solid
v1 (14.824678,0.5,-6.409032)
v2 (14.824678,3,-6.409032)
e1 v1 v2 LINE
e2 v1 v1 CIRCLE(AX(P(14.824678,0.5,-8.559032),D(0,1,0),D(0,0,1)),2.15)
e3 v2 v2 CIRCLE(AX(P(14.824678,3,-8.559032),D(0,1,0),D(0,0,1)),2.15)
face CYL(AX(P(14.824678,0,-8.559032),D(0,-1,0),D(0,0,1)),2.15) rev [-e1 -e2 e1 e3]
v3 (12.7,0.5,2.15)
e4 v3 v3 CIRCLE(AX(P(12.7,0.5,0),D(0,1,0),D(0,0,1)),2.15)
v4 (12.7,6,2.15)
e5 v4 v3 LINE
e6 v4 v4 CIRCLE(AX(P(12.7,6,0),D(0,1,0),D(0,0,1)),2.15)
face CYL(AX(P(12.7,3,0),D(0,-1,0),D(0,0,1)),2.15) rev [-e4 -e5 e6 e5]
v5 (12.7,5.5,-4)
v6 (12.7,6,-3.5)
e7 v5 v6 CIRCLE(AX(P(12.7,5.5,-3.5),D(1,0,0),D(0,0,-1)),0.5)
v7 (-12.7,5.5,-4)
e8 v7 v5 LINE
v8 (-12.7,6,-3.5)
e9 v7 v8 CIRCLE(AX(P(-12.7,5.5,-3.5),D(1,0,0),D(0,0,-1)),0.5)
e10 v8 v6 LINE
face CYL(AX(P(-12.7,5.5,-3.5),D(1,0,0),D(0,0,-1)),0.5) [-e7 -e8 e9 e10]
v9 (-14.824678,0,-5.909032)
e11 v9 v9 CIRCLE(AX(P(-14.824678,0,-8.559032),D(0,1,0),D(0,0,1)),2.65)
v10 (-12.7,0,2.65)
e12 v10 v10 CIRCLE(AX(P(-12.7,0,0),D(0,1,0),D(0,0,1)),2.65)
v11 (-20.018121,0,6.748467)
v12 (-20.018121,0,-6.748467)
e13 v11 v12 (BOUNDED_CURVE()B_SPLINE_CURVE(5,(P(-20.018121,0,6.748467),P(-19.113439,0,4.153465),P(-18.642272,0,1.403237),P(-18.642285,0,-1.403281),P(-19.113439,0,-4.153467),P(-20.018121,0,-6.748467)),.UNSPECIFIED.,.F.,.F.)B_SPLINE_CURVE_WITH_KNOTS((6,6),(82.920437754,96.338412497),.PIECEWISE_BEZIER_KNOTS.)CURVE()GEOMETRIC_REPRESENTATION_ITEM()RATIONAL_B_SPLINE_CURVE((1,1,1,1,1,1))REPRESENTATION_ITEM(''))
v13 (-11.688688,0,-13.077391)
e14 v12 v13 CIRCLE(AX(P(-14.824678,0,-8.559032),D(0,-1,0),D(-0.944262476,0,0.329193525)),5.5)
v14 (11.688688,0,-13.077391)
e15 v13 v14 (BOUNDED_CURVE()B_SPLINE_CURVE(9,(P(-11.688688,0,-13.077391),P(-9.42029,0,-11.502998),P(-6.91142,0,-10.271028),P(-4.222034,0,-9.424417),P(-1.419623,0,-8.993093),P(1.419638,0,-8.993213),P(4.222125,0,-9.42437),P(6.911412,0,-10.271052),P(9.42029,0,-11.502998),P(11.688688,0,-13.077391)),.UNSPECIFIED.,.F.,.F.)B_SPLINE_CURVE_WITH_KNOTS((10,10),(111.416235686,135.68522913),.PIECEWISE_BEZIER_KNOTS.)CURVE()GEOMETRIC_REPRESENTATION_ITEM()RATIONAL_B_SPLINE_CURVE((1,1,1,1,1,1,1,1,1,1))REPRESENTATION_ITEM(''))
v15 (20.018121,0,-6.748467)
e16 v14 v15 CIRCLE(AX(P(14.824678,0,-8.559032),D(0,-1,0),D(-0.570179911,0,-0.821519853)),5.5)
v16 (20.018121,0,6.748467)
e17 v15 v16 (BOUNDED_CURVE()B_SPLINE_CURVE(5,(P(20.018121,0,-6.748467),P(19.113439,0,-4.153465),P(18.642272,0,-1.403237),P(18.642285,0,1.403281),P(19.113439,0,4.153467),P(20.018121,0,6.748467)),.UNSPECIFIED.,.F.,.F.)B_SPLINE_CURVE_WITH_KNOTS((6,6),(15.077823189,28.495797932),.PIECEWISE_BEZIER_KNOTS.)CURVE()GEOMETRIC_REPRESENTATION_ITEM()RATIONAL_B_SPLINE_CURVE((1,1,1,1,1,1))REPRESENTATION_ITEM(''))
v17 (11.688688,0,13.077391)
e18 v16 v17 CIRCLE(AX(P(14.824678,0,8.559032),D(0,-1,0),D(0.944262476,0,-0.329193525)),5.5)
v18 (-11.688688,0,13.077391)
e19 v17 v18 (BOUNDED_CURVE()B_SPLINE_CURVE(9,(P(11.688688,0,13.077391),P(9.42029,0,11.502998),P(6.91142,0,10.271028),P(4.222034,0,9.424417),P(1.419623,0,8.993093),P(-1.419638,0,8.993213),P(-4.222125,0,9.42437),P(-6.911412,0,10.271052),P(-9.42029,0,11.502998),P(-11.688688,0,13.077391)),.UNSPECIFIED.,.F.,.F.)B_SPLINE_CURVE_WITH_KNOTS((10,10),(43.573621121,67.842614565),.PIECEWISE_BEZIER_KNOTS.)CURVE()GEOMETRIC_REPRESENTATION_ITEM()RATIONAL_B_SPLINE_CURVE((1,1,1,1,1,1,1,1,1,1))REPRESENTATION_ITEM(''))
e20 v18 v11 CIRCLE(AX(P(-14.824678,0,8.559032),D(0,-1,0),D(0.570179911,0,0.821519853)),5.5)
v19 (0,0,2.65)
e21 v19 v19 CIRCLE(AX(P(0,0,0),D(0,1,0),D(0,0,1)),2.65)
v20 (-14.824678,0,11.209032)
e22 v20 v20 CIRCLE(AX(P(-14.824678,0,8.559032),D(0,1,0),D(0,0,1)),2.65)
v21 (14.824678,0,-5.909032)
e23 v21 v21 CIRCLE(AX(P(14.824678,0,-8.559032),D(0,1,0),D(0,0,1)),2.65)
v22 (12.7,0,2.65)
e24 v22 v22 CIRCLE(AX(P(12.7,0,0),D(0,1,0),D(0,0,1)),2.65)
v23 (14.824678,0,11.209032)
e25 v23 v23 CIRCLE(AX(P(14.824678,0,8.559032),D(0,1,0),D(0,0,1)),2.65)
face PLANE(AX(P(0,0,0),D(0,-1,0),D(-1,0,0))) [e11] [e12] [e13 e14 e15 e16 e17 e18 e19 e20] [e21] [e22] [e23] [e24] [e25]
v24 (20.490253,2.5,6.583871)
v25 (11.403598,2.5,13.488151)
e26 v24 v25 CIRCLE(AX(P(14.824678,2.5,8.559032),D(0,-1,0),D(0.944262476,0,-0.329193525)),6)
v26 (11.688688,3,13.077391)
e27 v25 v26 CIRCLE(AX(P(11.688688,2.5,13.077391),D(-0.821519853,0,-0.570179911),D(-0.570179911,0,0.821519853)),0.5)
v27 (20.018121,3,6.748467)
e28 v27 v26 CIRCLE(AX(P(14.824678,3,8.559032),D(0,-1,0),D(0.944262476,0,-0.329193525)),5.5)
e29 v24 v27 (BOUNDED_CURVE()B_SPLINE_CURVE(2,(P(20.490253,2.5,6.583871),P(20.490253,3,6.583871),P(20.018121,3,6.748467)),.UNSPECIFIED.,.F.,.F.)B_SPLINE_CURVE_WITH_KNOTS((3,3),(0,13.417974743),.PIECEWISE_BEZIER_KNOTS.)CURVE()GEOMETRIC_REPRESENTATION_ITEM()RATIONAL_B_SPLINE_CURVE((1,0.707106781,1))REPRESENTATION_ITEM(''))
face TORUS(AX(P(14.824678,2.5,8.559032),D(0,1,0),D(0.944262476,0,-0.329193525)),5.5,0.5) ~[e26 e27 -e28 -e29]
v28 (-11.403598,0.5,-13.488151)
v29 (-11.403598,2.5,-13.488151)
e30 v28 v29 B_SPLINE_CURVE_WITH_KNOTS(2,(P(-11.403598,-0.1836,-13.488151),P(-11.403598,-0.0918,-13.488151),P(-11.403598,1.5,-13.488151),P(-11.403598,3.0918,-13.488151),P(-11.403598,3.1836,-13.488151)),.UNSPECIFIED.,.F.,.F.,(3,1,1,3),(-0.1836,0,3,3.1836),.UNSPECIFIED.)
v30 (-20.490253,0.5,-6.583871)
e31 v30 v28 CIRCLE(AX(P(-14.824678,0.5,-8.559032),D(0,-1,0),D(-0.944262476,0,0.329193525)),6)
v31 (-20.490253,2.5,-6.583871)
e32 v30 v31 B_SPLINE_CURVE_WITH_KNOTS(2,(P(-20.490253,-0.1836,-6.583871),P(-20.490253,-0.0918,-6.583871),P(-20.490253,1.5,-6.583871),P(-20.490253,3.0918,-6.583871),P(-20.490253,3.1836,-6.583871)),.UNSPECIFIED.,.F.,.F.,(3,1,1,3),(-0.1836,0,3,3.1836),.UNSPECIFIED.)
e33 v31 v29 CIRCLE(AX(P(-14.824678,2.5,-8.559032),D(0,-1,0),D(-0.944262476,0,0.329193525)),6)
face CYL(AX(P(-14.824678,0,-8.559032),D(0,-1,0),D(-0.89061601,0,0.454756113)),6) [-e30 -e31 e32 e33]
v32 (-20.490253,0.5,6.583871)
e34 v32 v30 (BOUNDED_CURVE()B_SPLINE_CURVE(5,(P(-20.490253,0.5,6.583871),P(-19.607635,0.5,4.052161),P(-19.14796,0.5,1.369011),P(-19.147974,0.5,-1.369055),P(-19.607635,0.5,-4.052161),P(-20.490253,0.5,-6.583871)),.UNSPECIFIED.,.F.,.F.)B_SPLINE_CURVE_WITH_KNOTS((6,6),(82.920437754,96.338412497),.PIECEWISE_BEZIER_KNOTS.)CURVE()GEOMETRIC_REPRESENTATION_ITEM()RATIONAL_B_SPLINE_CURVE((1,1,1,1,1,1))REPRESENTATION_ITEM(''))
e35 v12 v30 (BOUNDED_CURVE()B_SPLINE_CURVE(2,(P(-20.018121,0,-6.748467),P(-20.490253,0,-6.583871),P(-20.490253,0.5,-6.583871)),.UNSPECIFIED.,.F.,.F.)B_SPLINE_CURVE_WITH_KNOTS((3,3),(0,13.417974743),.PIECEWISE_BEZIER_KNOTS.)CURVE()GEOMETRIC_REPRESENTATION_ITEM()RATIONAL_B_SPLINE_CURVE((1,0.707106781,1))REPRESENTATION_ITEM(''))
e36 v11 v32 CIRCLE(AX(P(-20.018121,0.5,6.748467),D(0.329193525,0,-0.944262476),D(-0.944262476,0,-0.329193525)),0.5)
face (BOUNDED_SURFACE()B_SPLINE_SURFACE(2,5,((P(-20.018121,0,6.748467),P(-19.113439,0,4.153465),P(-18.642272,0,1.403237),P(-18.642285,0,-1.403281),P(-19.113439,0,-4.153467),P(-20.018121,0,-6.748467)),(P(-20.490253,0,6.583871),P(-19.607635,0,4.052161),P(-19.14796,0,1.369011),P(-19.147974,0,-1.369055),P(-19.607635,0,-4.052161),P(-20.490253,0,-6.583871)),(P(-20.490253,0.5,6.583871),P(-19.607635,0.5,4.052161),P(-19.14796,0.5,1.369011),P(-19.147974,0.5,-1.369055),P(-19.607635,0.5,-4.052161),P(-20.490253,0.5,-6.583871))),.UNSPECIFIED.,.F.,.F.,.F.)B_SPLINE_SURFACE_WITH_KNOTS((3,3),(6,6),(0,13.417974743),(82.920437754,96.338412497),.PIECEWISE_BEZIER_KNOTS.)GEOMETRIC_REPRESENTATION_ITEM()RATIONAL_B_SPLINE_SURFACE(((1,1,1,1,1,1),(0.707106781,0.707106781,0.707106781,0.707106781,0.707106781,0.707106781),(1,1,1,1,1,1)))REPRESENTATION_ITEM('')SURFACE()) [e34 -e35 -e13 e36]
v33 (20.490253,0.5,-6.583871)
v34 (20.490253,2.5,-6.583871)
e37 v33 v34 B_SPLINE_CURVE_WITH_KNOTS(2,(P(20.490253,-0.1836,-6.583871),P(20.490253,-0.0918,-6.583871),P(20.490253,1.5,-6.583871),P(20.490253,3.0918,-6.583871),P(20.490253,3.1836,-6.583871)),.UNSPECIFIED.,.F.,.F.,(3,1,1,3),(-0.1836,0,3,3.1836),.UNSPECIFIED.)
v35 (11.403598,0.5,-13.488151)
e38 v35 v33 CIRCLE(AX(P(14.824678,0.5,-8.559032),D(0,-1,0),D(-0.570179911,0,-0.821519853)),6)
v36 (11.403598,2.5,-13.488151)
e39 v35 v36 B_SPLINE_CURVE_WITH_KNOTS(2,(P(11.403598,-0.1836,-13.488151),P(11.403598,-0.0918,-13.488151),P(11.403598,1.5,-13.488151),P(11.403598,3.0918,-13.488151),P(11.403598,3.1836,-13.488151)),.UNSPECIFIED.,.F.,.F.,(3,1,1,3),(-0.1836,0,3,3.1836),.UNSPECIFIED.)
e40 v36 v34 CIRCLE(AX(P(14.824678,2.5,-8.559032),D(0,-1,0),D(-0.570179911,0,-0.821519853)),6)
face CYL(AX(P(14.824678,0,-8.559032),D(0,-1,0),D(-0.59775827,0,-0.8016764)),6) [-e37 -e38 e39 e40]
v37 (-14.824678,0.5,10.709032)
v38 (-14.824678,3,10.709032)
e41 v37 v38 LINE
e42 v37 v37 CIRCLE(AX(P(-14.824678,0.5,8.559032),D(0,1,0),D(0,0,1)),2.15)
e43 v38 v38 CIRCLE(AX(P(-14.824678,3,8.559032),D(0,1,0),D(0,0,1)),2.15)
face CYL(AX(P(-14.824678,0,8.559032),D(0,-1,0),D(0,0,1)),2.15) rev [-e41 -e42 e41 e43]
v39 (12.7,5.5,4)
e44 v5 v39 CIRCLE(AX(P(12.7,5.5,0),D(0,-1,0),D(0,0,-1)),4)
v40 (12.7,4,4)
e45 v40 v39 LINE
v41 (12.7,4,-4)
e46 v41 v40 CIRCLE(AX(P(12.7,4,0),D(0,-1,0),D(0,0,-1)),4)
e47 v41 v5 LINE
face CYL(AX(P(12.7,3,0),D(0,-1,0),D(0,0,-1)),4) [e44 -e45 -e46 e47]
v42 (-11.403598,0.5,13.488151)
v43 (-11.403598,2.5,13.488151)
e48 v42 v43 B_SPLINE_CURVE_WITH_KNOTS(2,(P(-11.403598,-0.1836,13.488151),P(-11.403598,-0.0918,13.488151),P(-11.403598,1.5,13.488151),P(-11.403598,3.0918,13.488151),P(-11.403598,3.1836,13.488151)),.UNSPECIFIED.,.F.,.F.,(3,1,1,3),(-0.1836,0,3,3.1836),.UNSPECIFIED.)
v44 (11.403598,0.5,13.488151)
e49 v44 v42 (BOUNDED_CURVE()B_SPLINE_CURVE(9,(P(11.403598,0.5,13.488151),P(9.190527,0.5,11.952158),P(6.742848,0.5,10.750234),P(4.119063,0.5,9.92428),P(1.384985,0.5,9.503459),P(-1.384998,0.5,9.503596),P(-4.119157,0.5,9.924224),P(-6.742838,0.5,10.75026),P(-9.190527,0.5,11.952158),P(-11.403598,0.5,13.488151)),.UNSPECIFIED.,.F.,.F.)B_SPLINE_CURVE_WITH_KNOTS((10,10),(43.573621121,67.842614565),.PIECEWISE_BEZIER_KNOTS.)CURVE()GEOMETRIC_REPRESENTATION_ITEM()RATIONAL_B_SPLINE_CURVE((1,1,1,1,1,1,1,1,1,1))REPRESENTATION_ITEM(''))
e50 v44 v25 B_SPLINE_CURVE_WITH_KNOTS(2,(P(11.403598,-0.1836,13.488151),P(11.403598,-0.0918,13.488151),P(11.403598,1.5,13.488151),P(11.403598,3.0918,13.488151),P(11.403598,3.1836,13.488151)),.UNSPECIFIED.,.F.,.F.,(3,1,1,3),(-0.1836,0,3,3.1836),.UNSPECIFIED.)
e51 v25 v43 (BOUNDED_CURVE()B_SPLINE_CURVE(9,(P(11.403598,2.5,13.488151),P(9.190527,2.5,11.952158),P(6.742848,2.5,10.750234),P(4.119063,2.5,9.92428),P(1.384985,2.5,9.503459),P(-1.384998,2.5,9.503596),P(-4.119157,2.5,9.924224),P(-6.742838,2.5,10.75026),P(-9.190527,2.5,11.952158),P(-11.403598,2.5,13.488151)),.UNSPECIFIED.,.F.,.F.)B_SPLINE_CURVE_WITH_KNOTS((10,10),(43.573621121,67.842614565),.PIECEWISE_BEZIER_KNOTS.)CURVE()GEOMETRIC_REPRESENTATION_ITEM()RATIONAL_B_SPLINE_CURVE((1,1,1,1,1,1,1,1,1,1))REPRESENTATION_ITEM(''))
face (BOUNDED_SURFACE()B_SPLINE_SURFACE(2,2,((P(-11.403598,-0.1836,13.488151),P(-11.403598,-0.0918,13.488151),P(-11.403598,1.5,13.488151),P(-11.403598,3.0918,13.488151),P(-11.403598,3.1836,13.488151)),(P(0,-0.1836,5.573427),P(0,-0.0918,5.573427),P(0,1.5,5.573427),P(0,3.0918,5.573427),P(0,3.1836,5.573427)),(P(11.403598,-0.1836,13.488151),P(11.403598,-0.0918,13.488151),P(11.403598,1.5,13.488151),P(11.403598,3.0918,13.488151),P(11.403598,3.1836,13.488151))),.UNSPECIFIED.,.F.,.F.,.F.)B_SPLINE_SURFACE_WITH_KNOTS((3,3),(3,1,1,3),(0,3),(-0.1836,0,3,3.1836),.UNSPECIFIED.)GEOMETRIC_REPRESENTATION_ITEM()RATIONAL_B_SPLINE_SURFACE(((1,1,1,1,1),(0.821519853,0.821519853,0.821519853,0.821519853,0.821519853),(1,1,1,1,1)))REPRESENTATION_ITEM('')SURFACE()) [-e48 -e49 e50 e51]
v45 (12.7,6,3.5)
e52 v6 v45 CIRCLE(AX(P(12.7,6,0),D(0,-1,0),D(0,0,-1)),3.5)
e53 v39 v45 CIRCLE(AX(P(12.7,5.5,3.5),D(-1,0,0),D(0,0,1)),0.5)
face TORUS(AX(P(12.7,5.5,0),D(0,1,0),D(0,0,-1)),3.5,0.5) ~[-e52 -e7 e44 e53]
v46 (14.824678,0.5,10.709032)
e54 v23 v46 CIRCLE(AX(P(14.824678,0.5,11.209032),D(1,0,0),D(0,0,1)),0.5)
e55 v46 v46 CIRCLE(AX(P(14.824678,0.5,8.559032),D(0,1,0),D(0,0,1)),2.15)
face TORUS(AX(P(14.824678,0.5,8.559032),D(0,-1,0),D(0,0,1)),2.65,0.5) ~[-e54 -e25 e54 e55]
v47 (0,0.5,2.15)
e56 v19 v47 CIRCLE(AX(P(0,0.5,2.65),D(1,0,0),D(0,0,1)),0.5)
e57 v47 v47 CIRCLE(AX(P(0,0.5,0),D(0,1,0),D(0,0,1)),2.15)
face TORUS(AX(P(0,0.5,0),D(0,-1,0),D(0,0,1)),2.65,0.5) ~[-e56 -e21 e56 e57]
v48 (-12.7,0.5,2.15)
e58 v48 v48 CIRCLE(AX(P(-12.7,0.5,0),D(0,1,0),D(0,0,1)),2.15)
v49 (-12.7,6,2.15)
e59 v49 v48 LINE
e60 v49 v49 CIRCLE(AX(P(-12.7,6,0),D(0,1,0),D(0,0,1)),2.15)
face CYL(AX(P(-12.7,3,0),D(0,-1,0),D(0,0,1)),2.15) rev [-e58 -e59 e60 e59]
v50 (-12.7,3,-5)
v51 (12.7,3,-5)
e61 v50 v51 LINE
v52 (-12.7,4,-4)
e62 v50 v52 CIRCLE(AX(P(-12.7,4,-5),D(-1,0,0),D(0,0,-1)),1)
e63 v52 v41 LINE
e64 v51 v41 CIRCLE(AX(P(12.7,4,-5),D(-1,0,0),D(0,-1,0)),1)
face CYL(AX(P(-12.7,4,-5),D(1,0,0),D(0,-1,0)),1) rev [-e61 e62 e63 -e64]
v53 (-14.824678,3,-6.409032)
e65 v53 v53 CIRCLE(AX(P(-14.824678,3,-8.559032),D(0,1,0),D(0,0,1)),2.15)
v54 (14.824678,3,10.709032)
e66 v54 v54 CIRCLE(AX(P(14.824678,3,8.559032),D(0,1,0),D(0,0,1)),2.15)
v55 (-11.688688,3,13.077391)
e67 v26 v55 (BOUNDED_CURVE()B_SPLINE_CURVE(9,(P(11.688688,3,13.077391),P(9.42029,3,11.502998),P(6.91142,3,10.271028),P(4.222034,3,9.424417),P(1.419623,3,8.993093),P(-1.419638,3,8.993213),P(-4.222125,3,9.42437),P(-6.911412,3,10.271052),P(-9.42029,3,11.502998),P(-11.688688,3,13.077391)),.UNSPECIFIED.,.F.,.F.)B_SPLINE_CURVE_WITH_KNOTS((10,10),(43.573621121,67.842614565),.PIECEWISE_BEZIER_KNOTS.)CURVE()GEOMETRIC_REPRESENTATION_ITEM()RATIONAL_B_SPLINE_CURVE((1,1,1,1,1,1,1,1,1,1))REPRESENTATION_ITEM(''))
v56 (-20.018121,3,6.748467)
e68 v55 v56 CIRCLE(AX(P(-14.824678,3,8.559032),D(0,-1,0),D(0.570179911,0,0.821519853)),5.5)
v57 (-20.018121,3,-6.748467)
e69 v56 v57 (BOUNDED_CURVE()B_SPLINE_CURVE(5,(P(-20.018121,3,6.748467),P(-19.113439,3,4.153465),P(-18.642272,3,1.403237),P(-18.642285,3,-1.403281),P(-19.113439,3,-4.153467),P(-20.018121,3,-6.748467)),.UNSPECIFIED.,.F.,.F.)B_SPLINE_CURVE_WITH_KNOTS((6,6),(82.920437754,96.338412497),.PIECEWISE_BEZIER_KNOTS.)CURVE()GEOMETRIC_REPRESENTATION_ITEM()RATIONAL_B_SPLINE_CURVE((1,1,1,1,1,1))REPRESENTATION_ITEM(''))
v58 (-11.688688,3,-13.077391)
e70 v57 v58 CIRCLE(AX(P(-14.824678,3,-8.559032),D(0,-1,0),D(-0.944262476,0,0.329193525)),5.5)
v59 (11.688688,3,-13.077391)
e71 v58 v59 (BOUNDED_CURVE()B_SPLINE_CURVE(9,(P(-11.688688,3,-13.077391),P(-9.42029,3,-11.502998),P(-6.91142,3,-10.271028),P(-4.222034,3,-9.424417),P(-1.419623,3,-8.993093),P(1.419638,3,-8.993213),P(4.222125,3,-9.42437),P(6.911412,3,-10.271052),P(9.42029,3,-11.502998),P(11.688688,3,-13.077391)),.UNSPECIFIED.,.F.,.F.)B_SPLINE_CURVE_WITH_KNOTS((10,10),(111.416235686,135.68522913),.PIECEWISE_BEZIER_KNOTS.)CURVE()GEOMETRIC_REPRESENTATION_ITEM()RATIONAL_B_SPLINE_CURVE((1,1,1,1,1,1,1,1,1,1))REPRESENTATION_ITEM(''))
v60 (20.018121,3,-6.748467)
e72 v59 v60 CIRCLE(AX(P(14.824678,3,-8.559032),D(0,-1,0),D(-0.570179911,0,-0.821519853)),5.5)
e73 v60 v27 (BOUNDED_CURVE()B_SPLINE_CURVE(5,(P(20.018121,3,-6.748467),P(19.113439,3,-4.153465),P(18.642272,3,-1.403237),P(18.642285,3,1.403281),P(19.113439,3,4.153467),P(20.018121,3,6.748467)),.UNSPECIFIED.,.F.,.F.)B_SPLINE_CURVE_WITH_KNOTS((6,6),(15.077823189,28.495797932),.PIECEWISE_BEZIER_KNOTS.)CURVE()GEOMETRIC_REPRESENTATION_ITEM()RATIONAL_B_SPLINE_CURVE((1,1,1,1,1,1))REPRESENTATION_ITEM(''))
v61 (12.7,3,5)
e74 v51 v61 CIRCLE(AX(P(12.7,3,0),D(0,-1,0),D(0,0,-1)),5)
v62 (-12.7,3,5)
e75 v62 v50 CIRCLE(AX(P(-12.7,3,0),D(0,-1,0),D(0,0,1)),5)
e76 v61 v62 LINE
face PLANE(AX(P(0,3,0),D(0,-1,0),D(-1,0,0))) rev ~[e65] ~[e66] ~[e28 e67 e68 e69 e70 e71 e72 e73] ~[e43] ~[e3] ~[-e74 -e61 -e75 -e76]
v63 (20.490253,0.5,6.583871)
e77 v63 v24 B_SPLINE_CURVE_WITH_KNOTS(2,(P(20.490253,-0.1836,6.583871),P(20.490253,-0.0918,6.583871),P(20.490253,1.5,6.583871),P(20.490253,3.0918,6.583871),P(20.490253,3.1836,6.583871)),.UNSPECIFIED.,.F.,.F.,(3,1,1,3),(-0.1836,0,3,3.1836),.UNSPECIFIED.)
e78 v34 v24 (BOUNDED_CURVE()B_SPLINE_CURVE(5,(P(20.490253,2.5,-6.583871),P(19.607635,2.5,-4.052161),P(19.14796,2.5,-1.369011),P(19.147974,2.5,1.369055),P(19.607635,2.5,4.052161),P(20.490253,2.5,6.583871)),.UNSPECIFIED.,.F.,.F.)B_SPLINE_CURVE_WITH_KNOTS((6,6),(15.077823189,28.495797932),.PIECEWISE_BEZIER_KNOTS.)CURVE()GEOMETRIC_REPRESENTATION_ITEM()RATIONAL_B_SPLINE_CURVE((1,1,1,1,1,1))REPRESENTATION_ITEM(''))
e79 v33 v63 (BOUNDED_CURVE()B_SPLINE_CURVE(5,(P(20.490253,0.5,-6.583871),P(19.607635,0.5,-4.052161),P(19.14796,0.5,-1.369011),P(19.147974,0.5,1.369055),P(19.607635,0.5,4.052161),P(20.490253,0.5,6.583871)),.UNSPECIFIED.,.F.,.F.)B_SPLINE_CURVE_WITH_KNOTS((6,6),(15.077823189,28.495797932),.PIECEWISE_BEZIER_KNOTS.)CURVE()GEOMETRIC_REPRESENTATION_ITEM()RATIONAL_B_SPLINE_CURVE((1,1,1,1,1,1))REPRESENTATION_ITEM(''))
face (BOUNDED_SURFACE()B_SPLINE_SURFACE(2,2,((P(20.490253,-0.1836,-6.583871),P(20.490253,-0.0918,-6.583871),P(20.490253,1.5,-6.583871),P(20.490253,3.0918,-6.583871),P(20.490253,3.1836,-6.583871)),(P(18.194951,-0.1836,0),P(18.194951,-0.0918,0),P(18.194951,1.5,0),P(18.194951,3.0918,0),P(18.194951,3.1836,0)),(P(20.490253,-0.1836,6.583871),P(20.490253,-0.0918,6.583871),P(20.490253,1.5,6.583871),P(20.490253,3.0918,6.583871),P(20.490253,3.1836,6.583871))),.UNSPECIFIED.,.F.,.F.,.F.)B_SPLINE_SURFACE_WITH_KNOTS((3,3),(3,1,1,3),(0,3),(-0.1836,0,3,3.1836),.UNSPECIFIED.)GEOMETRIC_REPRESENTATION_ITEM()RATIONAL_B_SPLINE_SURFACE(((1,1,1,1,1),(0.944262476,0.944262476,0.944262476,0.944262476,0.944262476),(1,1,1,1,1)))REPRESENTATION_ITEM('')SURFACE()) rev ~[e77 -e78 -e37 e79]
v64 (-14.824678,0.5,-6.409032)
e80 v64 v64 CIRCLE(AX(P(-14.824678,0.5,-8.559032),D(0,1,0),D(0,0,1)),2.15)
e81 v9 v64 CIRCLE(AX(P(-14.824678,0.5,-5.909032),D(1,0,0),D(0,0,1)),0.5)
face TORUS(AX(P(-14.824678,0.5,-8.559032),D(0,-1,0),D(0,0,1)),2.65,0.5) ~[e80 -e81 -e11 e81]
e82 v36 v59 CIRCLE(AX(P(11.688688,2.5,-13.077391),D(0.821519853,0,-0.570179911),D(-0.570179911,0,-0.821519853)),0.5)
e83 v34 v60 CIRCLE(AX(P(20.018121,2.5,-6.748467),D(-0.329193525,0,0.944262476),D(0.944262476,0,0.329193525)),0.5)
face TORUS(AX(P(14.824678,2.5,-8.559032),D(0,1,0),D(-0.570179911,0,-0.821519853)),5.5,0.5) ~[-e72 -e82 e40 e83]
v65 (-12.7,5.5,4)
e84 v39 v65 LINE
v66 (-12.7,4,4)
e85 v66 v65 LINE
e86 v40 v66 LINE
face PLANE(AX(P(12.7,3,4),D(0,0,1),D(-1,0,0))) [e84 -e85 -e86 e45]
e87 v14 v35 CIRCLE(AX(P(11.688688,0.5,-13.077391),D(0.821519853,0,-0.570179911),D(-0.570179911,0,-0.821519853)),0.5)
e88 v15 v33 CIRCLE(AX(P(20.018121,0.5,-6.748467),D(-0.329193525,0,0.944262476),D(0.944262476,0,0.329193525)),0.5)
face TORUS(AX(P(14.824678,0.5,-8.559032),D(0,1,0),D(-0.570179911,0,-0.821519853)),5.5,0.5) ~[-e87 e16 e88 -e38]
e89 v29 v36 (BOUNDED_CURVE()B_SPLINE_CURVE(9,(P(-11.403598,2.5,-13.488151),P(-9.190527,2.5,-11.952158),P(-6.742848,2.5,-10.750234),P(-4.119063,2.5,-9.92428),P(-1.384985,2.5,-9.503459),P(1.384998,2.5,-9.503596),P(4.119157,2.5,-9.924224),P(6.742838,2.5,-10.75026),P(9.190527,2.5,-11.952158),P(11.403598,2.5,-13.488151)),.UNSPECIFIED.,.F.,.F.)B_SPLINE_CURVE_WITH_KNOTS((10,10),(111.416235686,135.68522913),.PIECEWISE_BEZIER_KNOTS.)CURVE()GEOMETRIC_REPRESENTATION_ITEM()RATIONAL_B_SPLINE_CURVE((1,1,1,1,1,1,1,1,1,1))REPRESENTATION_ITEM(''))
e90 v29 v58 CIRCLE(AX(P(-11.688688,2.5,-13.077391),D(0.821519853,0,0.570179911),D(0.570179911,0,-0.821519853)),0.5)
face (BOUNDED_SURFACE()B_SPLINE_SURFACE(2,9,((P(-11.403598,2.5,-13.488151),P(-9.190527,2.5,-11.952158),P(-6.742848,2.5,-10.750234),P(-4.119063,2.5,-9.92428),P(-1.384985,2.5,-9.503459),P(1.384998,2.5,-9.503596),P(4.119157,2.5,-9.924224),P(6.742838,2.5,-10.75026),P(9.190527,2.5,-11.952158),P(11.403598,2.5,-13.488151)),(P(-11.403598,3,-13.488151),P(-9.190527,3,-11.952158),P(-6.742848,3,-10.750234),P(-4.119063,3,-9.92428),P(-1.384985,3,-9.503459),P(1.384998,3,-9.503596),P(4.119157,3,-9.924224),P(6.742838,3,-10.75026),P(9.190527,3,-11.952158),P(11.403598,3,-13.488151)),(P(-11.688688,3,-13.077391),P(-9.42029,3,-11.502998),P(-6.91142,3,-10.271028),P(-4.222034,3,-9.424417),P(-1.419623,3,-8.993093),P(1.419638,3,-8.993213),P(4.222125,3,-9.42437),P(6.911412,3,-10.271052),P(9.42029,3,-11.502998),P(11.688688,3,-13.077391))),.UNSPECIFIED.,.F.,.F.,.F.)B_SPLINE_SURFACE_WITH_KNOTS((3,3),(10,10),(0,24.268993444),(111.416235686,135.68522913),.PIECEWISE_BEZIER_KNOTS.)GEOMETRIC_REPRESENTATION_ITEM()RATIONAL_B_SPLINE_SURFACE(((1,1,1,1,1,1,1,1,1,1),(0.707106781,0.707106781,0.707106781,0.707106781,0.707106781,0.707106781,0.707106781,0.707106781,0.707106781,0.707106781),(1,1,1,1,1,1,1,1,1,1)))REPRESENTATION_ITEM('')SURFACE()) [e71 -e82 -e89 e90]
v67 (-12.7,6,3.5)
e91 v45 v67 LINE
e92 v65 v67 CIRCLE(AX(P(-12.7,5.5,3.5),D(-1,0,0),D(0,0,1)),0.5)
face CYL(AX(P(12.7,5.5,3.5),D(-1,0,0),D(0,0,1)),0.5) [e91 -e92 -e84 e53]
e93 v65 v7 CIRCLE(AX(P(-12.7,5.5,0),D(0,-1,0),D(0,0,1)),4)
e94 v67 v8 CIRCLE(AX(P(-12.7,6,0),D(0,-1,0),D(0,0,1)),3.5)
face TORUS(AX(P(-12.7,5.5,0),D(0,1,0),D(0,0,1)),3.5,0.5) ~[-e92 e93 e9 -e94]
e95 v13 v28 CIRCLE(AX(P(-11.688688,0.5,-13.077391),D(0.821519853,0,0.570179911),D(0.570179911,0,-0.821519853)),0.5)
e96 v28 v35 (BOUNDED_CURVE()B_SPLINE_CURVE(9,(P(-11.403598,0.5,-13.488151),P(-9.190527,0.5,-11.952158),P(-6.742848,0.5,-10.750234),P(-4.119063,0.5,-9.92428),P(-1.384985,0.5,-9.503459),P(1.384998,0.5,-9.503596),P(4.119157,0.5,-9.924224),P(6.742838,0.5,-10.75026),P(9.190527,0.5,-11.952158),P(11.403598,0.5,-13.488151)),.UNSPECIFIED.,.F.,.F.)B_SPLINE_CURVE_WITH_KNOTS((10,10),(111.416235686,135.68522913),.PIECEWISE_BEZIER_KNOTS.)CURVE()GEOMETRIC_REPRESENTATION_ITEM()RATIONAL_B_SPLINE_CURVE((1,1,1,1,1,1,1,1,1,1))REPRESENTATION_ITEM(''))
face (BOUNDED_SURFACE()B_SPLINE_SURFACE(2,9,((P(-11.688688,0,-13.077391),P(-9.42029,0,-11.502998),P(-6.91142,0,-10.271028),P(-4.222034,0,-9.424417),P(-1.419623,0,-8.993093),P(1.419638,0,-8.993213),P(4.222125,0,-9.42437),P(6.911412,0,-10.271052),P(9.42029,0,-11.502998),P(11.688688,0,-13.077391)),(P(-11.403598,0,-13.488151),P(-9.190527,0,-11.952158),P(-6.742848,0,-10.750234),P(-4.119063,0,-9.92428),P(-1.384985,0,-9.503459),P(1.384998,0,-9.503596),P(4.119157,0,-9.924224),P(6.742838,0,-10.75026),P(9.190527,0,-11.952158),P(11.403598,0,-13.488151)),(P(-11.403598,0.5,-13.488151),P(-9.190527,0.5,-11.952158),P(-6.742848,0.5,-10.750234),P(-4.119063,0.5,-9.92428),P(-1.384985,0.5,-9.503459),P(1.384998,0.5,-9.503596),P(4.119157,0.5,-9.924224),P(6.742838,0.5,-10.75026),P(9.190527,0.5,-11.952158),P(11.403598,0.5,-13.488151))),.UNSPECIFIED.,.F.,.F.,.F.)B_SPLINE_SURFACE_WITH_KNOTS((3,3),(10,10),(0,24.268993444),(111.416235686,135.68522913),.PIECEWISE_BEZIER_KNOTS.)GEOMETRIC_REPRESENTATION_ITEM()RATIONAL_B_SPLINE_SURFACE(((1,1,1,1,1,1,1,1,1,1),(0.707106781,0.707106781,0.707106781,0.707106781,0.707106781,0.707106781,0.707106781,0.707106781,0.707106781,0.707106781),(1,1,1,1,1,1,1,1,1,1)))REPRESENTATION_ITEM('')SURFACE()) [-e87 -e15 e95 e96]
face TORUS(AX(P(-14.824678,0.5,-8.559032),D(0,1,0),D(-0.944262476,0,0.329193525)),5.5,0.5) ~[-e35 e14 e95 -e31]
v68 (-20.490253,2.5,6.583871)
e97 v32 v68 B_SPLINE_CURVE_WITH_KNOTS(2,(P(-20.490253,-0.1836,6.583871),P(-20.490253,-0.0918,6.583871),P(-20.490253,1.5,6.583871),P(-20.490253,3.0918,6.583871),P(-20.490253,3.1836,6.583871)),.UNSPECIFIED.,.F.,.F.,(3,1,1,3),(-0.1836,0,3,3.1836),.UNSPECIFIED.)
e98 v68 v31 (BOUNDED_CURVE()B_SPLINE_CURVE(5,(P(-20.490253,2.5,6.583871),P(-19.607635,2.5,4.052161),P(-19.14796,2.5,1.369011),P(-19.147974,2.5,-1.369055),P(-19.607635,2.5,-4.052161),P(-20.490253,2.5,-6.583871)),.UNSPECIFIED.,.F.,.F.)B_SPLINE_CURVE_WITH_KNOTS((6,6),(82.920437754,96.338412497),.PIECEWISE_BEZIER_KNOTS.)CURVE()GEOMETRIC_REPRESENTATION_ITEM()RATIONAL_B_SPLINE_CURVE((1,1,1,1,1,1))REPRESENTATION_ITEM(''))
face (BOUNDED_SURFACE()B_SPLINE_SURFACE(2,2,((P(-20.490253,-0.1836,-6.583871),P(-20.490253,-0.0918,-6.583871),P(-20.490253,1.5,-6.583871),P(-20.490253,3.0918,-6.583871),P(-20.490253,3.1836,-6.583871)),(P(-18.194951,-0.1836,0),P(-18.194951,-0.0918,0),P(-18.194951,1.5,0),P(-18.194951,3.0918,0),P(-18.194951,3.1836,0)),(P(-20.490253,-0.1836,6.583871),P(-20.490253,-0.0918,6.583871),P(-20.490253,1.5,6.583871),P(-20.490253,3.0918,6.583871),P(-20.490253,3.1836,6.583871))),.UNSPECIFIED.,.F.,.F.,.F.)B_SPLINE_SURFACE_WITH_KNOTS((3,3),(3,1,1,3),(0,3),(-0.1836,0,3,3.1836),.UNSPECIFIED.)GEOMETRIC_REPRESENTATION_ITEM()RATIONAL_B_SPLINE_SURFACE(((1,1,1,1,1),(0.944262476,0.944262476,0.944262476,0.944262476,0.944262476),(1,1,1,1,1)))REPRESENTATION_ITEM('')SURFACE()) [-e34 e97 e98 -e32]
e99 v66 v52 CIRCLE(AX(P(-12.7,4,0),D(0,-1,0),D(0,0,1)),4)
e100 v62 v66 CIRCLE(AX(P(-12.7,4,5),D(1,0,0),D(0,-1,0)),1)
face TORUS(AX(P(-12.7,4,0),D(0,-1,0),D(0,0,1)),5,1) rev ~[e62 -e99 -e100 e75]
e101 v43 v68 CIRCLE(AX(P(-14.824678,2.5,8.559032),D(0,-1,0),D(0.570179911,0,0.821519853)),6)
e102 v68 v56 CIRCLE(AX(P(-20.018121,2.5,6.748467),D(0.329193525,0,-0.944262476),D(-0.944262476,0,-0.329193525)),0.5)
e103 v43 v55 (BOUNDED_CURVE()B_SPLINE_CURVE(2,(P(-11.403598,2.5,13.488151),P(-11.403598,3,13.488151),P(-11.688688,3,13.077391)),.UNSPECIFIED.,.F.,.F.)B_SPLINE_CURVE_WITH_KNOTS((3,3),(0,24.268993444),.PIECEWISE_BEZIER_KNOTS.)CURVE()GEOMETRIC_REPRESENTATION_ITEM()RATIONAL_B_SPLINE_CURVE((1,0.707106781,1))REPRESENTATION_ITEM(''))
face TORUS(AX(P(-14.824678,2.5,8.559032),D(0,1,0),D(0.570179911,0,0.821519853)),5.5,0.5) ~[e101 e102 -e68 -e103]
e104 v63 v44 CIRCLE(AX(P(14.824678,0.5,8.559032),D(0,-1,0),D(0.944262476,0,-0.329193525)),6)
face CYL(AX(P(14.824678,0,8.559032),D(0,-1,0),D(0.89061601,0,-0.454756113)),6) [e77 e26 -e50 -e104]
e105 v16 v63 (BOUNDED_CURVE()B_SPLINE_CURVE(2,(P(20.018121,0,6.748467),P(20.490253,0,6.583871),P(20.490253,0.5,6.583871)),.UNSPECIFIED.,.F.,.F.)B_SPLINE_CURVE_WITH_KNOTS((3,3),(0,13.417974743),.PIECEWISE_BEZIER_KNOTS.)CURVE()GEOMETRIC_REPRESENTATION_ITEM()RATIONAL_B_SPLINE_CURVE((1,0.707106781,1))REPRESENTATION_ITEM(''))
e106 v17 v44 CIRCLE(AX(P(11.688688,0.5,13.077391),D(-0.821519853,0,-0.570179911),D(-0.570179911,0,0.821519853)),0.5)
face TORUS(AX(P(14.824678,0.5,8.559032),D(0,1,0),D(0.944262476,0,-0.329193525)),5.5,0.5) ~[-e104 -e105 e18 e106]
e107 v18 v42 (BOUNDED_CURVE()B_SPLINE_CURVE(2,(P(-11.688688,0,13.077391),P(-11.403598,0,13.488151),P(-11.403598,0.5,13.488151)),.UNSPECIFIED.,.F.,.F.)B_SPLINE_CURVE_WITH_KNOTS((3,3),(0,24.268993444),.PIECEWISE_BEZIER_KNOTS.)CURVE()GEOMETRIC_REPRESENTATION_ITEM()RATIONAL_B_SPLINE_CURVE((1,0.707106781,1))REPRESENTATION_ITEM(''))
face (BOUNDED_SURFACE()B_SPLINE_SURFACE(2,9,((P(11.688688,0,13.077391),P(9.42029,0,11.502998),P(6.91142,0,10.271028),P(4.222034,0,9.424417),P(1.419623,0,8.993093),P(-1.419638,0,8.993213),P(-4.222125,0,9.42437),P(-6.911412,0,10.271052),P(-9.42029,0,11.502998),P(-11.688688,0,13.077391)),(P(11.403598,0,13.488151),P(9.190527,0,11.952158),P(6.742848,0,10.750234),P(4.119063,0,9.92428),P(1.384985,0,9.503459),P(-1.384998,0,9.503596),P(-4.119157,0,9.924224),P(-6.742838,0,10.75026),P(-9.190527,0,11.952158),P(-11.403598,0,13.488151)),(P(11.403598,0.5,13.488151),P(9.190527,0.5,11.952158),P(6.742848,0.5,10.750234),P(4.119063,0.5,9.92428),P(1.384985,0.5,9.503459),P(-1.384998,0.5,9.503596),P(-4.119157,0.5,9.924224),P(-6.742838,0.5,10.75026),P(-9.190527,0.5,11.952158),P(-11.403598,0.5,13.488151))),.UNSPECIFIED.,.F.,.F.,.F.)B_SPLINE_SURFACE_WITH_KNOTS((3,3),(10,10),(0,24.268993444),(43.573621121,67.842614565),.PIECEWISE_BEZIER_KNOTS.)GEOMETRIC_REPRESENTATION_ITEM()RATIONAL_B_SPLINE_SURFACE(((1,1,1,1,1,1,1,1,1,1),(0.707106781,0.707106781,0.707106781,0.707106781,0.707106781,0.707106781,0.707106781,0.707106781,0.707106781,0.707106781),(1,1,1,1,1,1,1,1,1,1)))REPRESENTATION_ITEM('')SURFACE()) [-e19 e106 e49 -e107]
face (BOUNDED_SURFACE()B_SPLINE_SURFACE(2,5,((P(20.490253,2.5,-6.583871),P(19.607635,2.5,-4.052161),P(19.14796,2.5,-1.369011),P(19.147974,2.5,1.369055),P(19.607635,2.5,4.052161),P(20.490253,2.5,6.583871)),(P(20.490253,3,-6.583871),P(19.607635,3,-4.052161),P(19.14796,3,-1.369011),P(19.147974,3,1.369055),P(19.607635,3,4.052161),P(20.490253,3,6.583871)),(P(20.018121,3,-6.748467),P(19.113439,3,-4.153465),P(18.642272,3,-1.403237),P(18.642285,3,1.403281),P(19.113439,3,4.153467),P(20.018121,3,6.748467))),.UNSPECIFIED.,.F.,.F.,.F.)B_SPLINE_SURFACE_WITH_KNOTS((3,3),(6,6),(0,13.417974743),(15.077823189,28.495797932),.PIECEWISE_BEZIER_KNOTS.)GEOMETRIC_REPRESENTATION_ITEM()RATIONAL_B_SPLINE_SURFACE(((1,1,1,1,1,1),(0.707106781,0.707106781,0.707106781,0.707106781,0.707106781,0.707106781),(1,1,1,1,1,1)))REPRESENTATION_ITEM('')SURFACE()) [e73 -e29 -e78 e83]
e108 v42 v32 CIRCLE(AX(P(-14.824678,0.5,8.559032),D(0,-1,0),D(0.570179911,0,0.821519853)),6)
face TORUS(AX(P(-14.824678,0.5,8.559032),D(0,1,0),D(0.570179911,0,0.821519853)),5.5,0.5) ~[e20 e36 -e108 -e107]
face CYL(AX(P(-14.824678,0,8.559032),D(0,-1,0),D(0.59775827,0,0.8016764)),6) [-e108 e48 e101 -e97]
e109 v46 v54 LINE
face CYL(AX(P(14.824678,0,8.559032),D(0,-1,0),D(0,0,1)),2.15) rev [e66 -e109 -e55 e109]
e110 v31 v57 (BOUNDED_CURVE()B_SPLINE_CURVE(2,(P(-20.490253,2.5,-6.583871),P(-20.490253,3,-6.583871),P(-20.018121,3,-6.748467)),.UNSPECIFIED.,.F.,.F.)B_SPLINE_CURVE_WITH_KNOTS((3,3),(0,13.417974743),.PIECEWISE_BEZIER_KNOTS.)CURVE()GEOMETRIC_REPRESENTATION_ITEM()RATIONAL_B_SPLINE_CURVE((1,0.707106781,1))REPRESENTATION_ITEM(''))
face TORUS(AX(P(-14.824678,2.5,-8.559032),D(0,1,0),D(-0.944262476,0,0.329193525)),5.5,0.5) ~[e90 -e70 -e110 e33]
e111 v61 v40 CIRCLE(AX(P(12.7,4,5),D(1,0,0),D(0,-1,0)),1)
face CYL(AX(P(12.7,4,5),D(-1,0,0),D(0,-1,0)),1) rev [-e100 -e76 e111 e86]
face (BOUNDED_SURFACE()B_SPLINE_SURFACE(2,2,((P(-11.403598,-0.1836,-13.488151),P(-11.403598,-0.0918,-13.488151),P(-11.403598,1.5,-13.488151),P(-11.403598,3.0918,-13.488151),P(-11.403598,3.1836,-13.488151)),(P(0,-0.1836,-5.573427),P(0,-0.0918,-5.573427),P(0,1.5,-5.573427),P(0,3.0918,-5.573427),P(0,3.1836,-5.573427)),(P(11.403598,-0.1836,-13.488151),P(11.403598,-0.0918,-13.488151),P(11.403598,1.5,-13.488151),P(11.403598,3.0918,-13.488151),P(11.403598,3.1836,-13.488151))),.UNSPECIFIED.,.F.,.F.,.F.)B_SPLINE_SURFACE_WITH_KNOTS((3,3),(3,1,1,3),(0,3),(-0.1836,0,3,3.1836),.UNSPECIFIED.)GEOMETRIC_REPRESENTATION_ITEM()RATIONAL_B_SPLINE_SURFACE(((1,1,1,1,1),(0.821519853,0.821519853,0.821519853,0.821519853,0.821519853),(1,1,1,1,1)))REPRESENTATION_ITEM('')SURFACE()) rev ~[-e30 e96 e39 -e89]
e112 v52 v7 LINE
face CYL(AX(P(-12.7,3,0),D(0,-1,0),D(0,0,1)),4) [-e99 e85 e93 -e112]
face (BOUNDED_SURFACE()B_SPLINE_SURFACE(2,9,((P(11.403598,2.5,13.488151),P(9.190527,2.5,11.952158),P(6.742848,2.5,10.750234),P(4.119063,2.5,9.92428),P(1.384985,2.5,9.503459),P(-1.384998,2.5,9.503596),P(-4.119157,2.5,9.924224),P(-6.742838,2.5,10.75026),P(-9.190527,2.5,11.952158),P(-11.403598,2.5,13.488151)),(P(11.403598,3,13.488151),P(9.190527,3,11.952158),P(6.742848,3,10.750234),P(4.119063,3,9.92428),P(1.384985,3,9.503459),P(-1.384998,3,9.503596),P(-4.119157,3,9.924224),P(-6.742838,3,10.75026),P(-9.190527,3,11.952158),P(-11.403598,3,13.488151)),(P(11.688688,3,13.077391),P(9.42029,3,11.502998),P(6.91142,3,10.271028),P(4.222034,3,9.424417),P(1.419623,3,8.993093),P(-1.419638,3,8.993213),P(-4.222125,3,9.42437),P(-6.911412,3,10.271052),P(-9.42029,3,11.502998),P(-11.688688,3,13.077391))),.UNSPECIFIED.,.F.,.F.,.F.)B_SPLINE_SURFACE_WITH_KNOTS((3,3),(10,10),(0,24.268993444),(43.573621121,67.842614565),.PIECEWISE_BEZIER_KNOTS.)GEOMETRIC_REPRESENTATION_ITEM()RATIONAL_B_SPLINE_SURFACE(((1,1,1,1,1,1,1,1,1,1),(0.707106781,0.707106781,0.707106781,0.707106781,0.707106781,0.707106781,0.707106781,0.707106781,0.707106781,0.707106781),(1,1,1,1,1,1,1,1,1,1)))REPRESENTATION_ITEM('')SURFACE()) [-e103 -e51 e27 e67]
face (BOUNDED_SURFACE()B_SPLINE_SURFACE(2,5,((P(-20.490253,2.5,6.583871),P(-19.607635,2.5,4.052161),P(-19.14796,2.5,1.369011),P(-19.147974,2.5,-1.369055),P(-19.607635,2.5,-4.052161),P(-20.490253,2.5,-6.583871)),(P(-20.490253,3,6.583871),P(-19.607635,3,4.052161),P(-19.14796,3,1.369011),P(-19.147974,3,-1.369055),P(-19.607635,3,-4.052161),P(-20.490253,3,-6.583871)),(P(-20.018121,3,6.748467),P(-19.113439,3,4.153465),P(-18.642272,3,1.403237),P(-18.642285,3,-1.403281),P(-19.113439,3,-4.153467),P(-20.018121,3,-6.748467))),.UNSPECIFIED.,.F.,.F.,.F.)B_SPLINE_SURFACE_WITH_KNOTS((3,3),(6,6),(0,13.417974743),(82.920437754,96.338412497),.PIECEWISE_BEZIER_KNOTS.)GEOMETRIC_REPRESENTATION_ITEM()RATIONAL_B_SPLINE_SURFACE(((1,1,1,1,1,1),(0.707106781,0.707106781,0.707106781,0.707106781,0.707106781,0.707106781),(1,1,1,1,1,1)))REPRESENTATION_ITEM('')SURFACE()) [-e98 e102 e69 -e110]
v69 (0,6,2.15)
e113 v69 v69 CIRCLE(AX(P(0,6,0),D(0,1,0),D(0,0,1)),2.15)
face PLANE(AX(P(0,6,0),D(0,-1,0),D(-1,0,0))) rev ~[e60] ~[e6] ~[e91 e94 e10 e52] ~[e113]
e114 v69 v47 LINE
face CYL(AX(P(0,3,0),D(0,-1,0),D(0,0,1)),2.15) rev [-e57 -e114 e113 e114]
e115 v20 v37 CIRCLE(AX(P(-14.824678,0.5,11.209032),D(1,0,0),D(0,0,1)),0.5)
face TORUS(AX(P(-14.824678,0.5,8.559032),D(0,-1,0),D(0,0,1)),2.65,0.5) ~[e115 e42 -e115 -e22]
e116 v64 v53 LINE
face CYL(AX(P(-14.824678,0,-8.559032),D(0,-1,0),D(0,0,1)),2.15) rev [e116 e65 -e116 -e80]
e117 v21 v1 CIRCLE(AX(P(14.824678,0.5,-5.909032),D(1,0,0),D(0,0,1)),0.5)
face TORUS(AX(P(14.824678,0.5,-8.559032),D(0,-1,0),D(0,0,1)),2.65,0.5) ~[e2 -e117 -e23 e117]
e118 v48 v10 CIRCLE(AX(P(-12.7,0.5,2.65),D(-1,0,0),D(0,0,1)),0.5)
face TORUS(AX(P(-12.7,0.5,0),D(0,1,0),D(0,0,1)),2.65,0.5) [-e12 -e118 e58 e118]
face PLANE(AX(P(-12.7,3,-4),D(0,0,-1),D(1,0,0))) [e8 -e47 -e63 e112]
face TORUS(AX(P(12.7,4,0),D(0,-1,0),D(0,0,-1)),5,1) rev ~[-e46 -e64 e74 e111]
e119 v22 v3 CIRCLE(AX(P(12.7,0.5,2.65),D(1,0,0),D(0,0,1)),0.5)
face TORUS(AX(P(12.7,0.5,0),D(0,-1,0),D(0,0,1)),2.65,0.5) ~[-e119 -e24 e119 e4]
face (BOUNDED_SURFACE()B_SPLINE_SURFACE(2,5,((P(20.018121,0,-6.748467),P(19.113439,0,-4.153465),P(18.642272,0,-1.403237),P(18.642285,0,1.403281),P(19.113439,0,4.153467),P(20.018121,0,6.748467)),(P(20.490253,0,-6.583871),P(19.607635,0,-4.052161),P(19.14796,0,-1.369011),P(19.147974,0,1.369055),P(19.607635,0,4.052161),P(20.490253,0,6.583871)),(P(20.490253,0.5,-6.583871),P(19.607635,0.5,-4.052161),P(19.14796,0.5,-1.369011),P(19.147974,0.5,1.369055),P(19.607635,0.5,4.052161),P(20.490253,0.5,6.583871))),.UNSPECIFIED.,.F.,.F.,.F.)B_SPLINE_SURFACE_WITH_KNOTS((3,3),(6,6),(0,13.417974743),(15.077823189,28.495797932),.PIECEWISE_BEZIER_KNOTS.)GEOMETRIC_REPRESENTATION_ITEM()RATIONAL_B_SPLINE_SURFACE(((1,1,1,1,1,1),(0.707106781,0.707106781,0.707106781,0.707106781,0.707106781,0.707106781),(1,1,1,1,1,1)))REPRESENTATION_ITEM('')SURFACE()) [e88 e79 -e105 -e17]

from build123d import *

# Parameters (mm, degrees)
SKETCH1_R           = 2.15
BOSS_EXTRUDE1_DEPTH = 3
FILLET1_R           = 20
SKETCH2_R           = 2.15
BOSS_EXTRUDE2_DEPTH = 3
FILLET2_R           = 0.5
FILLET3_R           = 1


with BuildPart() as part:
    # Sketch1 → Boss-Extrude1 (new body)
    with BuildSketch(Plane(origin=(0, 0, 0), x_dir=(1, 0, 0), z_dir=(0, 1, 0))):
        with BuildLine():
            Line((-11.238128062, 13.369090052), (0, 4.989544408))
            Line((0, 4.989544408), (11.238128062, 13.369090052))
            ThreePointArc((11.238128062, 13.369090052), (18.695012917, 13.143844096), (20.168373744, 5.830494975))
            Line((20.168373744, 5.830494975), (17.191273403, 0))
            Line((17.191273403, 0), (20.168373744, -5.830494975))
            ThreePointArc((20.168373744, -5.830494975), (18.695012917, -13.143844096), (11.238128062, -13.369090052))
            Line((11.238128062, -13.369090052), (0, -4.989544408))
            Line((0, -4.989544408), (-11.238128062, -13.369090052))
            ThreePointArc((-11.238128062, -13.369090052), (-18.695012917, -13.143844096), (-20.168373744, -5.830494975))
            Line((-20.168373744, -5.830494975), (-17.191273403, 0))
            Line((-17.191273403, 0), (-20.168373744, 5.830494975))
            ThreePointArc((-20.168373744, 5.830494975), (-18.695012917, 13.143844096), (-11.238128062, 13.369090052))
        make_face()
        with Locations(Location((0, 0, 0), (0, 0, 270))):
            Circle(SKETCH1_R, mode=Mode.SUBTRACT)
        with Locations(Location((14.824677681, 8.55903165, 0), (0, 0, 270))):
            Circle(SKETCH1_R, mode=Mode.SUBTRACT)
        with Locations(Location((14.824677681, -8.55903165, 0), (0, 0, 270))):
            Circle(SKETCH1_R, mode=Mode.SUBTRACT)
        with Locations(Location((-14.824677681, -8.55903165, 0), (0, 0, 270))):
            Circle(SKETCH1_R, mode=Mode.SUBTRACT)
        with Locations(Location((-14.824677681, 8.55903165, 0), (0, 0, 270))):
            Circle(SKETCH1_R, mode=Mode.SUBTRACT)
        with Locations(Location((12.7, 0, 0), (0, 0, 270))):
            Circle(SKETCH1_R, mode=Mode.SUBTRACT)
        with Locations(Location((-12.7, 0, 0), (0, 0, 270))):
            Circle(SKETCH1_R, mode=Mode.SUBTRACT)
    extrude(amount=BOSS_EXTRUDE1_DEPTH)

    # Fillet1
    fillet1_edges = [part.edges().sort_by_distance(p)[0] for p in [
        (17.191273403, 1.5, 0),
        (-17.191273403, 1.5, 0),
        (0, 1.5, 4.989544408),
        (0, 1.5, -4.989544408),
    ]]
    fillet(fillet1_edges, radius=FILLET1_R)

    # Sketch2 → Boss-Extrude2 (add)
    with BuildSketch(Plane(origin=(0, 3, 0), x_dir=(1, 0, 0), z_dir=(0, 1, 0))):
        with BuildLine():
            Line((-12.7, 4), (12.7, 4))
            ThreePointArc((12.7, 4), (16.7, 0), (12.7, -4))
            Line((12.7, -4), (-12.7, -4))
            ThreePointArc((-12.7, -4), (-16.7, 0), (-12.7, 4))
        make_face()
        with Locations(Location((12.7, 0, 0), (0, 0, 270))):
            Circle(SKETCH2_R, mode=Mode.SUBTRACT)
        with Locations(Location((0, 0, 0), (0, 0, 270))):
            Circle(SKETCH2_R, mode=Mode.SUBTRACT)
        with Locations(Location((-12.7, 0, 0), (0, 0, 270))):
            Circle(SKETCH2_R, mode=Mode.SUBTRACT)
    extrude(amount=BOSS_EXTRUDE2_DEPTH)

    # Fillet2
    fillet2_edges = [part.edges().sort_by_distance(p)[0] for p in [
        (0, 0, -2.15),
        (12.7, 0, -2.15),
        (14.824677681, 0, -10.70903165),
        (14.824677681, 0, 6.40903165),
        (-14.824677681, 0, 6.40903165),
        (-14.824677681, 0, -10.70903165),
        (-12.7, 0, -2.15),
        (18.454651703, 0, -13.336404213),
        (18.454651703, 3, -13.336404213),
        (18.454651703, 0, 13.336404213),
        (18.454651703, 3, 13.336404213),
        (-18.454651703, 0, 13.336404213),
        (-18.454651703, 3, 13.336404213),
        (-18.454651703, 0, -13.336404213),
        (-18.454651703, 3, -13.336404213),
        (19.375502051, 0, 0),
        (19.375502051, 3, 0),
        (-19.375502051, 0, 0),
        (-19.375502051, 3, 0),
        (0, 0, 9.918547835),
        (0, 3, 9.918547835),
        (0, 0, -9.918547835),
        (0, 3, -9.918547835),
        (0, 6, -4),
        (0, 6, 4),
        (16.7, 6, 0),
        (-16.7, 6, 0),
    ]]
    fillet(fillet2_edges, radius=FILLET2_R)

    # Fillet3
    fillet3_edges = [part.edges().sort_by_distance(p)[0] for p in [
        (0, 3, 4),
        (16.7, 3, 0),
        (-16.7, 3, 0),
        (0, 3, -4),
    ]]
    fillet(fillet3_edges, radius=FILLET3_R)


solid = part.part
